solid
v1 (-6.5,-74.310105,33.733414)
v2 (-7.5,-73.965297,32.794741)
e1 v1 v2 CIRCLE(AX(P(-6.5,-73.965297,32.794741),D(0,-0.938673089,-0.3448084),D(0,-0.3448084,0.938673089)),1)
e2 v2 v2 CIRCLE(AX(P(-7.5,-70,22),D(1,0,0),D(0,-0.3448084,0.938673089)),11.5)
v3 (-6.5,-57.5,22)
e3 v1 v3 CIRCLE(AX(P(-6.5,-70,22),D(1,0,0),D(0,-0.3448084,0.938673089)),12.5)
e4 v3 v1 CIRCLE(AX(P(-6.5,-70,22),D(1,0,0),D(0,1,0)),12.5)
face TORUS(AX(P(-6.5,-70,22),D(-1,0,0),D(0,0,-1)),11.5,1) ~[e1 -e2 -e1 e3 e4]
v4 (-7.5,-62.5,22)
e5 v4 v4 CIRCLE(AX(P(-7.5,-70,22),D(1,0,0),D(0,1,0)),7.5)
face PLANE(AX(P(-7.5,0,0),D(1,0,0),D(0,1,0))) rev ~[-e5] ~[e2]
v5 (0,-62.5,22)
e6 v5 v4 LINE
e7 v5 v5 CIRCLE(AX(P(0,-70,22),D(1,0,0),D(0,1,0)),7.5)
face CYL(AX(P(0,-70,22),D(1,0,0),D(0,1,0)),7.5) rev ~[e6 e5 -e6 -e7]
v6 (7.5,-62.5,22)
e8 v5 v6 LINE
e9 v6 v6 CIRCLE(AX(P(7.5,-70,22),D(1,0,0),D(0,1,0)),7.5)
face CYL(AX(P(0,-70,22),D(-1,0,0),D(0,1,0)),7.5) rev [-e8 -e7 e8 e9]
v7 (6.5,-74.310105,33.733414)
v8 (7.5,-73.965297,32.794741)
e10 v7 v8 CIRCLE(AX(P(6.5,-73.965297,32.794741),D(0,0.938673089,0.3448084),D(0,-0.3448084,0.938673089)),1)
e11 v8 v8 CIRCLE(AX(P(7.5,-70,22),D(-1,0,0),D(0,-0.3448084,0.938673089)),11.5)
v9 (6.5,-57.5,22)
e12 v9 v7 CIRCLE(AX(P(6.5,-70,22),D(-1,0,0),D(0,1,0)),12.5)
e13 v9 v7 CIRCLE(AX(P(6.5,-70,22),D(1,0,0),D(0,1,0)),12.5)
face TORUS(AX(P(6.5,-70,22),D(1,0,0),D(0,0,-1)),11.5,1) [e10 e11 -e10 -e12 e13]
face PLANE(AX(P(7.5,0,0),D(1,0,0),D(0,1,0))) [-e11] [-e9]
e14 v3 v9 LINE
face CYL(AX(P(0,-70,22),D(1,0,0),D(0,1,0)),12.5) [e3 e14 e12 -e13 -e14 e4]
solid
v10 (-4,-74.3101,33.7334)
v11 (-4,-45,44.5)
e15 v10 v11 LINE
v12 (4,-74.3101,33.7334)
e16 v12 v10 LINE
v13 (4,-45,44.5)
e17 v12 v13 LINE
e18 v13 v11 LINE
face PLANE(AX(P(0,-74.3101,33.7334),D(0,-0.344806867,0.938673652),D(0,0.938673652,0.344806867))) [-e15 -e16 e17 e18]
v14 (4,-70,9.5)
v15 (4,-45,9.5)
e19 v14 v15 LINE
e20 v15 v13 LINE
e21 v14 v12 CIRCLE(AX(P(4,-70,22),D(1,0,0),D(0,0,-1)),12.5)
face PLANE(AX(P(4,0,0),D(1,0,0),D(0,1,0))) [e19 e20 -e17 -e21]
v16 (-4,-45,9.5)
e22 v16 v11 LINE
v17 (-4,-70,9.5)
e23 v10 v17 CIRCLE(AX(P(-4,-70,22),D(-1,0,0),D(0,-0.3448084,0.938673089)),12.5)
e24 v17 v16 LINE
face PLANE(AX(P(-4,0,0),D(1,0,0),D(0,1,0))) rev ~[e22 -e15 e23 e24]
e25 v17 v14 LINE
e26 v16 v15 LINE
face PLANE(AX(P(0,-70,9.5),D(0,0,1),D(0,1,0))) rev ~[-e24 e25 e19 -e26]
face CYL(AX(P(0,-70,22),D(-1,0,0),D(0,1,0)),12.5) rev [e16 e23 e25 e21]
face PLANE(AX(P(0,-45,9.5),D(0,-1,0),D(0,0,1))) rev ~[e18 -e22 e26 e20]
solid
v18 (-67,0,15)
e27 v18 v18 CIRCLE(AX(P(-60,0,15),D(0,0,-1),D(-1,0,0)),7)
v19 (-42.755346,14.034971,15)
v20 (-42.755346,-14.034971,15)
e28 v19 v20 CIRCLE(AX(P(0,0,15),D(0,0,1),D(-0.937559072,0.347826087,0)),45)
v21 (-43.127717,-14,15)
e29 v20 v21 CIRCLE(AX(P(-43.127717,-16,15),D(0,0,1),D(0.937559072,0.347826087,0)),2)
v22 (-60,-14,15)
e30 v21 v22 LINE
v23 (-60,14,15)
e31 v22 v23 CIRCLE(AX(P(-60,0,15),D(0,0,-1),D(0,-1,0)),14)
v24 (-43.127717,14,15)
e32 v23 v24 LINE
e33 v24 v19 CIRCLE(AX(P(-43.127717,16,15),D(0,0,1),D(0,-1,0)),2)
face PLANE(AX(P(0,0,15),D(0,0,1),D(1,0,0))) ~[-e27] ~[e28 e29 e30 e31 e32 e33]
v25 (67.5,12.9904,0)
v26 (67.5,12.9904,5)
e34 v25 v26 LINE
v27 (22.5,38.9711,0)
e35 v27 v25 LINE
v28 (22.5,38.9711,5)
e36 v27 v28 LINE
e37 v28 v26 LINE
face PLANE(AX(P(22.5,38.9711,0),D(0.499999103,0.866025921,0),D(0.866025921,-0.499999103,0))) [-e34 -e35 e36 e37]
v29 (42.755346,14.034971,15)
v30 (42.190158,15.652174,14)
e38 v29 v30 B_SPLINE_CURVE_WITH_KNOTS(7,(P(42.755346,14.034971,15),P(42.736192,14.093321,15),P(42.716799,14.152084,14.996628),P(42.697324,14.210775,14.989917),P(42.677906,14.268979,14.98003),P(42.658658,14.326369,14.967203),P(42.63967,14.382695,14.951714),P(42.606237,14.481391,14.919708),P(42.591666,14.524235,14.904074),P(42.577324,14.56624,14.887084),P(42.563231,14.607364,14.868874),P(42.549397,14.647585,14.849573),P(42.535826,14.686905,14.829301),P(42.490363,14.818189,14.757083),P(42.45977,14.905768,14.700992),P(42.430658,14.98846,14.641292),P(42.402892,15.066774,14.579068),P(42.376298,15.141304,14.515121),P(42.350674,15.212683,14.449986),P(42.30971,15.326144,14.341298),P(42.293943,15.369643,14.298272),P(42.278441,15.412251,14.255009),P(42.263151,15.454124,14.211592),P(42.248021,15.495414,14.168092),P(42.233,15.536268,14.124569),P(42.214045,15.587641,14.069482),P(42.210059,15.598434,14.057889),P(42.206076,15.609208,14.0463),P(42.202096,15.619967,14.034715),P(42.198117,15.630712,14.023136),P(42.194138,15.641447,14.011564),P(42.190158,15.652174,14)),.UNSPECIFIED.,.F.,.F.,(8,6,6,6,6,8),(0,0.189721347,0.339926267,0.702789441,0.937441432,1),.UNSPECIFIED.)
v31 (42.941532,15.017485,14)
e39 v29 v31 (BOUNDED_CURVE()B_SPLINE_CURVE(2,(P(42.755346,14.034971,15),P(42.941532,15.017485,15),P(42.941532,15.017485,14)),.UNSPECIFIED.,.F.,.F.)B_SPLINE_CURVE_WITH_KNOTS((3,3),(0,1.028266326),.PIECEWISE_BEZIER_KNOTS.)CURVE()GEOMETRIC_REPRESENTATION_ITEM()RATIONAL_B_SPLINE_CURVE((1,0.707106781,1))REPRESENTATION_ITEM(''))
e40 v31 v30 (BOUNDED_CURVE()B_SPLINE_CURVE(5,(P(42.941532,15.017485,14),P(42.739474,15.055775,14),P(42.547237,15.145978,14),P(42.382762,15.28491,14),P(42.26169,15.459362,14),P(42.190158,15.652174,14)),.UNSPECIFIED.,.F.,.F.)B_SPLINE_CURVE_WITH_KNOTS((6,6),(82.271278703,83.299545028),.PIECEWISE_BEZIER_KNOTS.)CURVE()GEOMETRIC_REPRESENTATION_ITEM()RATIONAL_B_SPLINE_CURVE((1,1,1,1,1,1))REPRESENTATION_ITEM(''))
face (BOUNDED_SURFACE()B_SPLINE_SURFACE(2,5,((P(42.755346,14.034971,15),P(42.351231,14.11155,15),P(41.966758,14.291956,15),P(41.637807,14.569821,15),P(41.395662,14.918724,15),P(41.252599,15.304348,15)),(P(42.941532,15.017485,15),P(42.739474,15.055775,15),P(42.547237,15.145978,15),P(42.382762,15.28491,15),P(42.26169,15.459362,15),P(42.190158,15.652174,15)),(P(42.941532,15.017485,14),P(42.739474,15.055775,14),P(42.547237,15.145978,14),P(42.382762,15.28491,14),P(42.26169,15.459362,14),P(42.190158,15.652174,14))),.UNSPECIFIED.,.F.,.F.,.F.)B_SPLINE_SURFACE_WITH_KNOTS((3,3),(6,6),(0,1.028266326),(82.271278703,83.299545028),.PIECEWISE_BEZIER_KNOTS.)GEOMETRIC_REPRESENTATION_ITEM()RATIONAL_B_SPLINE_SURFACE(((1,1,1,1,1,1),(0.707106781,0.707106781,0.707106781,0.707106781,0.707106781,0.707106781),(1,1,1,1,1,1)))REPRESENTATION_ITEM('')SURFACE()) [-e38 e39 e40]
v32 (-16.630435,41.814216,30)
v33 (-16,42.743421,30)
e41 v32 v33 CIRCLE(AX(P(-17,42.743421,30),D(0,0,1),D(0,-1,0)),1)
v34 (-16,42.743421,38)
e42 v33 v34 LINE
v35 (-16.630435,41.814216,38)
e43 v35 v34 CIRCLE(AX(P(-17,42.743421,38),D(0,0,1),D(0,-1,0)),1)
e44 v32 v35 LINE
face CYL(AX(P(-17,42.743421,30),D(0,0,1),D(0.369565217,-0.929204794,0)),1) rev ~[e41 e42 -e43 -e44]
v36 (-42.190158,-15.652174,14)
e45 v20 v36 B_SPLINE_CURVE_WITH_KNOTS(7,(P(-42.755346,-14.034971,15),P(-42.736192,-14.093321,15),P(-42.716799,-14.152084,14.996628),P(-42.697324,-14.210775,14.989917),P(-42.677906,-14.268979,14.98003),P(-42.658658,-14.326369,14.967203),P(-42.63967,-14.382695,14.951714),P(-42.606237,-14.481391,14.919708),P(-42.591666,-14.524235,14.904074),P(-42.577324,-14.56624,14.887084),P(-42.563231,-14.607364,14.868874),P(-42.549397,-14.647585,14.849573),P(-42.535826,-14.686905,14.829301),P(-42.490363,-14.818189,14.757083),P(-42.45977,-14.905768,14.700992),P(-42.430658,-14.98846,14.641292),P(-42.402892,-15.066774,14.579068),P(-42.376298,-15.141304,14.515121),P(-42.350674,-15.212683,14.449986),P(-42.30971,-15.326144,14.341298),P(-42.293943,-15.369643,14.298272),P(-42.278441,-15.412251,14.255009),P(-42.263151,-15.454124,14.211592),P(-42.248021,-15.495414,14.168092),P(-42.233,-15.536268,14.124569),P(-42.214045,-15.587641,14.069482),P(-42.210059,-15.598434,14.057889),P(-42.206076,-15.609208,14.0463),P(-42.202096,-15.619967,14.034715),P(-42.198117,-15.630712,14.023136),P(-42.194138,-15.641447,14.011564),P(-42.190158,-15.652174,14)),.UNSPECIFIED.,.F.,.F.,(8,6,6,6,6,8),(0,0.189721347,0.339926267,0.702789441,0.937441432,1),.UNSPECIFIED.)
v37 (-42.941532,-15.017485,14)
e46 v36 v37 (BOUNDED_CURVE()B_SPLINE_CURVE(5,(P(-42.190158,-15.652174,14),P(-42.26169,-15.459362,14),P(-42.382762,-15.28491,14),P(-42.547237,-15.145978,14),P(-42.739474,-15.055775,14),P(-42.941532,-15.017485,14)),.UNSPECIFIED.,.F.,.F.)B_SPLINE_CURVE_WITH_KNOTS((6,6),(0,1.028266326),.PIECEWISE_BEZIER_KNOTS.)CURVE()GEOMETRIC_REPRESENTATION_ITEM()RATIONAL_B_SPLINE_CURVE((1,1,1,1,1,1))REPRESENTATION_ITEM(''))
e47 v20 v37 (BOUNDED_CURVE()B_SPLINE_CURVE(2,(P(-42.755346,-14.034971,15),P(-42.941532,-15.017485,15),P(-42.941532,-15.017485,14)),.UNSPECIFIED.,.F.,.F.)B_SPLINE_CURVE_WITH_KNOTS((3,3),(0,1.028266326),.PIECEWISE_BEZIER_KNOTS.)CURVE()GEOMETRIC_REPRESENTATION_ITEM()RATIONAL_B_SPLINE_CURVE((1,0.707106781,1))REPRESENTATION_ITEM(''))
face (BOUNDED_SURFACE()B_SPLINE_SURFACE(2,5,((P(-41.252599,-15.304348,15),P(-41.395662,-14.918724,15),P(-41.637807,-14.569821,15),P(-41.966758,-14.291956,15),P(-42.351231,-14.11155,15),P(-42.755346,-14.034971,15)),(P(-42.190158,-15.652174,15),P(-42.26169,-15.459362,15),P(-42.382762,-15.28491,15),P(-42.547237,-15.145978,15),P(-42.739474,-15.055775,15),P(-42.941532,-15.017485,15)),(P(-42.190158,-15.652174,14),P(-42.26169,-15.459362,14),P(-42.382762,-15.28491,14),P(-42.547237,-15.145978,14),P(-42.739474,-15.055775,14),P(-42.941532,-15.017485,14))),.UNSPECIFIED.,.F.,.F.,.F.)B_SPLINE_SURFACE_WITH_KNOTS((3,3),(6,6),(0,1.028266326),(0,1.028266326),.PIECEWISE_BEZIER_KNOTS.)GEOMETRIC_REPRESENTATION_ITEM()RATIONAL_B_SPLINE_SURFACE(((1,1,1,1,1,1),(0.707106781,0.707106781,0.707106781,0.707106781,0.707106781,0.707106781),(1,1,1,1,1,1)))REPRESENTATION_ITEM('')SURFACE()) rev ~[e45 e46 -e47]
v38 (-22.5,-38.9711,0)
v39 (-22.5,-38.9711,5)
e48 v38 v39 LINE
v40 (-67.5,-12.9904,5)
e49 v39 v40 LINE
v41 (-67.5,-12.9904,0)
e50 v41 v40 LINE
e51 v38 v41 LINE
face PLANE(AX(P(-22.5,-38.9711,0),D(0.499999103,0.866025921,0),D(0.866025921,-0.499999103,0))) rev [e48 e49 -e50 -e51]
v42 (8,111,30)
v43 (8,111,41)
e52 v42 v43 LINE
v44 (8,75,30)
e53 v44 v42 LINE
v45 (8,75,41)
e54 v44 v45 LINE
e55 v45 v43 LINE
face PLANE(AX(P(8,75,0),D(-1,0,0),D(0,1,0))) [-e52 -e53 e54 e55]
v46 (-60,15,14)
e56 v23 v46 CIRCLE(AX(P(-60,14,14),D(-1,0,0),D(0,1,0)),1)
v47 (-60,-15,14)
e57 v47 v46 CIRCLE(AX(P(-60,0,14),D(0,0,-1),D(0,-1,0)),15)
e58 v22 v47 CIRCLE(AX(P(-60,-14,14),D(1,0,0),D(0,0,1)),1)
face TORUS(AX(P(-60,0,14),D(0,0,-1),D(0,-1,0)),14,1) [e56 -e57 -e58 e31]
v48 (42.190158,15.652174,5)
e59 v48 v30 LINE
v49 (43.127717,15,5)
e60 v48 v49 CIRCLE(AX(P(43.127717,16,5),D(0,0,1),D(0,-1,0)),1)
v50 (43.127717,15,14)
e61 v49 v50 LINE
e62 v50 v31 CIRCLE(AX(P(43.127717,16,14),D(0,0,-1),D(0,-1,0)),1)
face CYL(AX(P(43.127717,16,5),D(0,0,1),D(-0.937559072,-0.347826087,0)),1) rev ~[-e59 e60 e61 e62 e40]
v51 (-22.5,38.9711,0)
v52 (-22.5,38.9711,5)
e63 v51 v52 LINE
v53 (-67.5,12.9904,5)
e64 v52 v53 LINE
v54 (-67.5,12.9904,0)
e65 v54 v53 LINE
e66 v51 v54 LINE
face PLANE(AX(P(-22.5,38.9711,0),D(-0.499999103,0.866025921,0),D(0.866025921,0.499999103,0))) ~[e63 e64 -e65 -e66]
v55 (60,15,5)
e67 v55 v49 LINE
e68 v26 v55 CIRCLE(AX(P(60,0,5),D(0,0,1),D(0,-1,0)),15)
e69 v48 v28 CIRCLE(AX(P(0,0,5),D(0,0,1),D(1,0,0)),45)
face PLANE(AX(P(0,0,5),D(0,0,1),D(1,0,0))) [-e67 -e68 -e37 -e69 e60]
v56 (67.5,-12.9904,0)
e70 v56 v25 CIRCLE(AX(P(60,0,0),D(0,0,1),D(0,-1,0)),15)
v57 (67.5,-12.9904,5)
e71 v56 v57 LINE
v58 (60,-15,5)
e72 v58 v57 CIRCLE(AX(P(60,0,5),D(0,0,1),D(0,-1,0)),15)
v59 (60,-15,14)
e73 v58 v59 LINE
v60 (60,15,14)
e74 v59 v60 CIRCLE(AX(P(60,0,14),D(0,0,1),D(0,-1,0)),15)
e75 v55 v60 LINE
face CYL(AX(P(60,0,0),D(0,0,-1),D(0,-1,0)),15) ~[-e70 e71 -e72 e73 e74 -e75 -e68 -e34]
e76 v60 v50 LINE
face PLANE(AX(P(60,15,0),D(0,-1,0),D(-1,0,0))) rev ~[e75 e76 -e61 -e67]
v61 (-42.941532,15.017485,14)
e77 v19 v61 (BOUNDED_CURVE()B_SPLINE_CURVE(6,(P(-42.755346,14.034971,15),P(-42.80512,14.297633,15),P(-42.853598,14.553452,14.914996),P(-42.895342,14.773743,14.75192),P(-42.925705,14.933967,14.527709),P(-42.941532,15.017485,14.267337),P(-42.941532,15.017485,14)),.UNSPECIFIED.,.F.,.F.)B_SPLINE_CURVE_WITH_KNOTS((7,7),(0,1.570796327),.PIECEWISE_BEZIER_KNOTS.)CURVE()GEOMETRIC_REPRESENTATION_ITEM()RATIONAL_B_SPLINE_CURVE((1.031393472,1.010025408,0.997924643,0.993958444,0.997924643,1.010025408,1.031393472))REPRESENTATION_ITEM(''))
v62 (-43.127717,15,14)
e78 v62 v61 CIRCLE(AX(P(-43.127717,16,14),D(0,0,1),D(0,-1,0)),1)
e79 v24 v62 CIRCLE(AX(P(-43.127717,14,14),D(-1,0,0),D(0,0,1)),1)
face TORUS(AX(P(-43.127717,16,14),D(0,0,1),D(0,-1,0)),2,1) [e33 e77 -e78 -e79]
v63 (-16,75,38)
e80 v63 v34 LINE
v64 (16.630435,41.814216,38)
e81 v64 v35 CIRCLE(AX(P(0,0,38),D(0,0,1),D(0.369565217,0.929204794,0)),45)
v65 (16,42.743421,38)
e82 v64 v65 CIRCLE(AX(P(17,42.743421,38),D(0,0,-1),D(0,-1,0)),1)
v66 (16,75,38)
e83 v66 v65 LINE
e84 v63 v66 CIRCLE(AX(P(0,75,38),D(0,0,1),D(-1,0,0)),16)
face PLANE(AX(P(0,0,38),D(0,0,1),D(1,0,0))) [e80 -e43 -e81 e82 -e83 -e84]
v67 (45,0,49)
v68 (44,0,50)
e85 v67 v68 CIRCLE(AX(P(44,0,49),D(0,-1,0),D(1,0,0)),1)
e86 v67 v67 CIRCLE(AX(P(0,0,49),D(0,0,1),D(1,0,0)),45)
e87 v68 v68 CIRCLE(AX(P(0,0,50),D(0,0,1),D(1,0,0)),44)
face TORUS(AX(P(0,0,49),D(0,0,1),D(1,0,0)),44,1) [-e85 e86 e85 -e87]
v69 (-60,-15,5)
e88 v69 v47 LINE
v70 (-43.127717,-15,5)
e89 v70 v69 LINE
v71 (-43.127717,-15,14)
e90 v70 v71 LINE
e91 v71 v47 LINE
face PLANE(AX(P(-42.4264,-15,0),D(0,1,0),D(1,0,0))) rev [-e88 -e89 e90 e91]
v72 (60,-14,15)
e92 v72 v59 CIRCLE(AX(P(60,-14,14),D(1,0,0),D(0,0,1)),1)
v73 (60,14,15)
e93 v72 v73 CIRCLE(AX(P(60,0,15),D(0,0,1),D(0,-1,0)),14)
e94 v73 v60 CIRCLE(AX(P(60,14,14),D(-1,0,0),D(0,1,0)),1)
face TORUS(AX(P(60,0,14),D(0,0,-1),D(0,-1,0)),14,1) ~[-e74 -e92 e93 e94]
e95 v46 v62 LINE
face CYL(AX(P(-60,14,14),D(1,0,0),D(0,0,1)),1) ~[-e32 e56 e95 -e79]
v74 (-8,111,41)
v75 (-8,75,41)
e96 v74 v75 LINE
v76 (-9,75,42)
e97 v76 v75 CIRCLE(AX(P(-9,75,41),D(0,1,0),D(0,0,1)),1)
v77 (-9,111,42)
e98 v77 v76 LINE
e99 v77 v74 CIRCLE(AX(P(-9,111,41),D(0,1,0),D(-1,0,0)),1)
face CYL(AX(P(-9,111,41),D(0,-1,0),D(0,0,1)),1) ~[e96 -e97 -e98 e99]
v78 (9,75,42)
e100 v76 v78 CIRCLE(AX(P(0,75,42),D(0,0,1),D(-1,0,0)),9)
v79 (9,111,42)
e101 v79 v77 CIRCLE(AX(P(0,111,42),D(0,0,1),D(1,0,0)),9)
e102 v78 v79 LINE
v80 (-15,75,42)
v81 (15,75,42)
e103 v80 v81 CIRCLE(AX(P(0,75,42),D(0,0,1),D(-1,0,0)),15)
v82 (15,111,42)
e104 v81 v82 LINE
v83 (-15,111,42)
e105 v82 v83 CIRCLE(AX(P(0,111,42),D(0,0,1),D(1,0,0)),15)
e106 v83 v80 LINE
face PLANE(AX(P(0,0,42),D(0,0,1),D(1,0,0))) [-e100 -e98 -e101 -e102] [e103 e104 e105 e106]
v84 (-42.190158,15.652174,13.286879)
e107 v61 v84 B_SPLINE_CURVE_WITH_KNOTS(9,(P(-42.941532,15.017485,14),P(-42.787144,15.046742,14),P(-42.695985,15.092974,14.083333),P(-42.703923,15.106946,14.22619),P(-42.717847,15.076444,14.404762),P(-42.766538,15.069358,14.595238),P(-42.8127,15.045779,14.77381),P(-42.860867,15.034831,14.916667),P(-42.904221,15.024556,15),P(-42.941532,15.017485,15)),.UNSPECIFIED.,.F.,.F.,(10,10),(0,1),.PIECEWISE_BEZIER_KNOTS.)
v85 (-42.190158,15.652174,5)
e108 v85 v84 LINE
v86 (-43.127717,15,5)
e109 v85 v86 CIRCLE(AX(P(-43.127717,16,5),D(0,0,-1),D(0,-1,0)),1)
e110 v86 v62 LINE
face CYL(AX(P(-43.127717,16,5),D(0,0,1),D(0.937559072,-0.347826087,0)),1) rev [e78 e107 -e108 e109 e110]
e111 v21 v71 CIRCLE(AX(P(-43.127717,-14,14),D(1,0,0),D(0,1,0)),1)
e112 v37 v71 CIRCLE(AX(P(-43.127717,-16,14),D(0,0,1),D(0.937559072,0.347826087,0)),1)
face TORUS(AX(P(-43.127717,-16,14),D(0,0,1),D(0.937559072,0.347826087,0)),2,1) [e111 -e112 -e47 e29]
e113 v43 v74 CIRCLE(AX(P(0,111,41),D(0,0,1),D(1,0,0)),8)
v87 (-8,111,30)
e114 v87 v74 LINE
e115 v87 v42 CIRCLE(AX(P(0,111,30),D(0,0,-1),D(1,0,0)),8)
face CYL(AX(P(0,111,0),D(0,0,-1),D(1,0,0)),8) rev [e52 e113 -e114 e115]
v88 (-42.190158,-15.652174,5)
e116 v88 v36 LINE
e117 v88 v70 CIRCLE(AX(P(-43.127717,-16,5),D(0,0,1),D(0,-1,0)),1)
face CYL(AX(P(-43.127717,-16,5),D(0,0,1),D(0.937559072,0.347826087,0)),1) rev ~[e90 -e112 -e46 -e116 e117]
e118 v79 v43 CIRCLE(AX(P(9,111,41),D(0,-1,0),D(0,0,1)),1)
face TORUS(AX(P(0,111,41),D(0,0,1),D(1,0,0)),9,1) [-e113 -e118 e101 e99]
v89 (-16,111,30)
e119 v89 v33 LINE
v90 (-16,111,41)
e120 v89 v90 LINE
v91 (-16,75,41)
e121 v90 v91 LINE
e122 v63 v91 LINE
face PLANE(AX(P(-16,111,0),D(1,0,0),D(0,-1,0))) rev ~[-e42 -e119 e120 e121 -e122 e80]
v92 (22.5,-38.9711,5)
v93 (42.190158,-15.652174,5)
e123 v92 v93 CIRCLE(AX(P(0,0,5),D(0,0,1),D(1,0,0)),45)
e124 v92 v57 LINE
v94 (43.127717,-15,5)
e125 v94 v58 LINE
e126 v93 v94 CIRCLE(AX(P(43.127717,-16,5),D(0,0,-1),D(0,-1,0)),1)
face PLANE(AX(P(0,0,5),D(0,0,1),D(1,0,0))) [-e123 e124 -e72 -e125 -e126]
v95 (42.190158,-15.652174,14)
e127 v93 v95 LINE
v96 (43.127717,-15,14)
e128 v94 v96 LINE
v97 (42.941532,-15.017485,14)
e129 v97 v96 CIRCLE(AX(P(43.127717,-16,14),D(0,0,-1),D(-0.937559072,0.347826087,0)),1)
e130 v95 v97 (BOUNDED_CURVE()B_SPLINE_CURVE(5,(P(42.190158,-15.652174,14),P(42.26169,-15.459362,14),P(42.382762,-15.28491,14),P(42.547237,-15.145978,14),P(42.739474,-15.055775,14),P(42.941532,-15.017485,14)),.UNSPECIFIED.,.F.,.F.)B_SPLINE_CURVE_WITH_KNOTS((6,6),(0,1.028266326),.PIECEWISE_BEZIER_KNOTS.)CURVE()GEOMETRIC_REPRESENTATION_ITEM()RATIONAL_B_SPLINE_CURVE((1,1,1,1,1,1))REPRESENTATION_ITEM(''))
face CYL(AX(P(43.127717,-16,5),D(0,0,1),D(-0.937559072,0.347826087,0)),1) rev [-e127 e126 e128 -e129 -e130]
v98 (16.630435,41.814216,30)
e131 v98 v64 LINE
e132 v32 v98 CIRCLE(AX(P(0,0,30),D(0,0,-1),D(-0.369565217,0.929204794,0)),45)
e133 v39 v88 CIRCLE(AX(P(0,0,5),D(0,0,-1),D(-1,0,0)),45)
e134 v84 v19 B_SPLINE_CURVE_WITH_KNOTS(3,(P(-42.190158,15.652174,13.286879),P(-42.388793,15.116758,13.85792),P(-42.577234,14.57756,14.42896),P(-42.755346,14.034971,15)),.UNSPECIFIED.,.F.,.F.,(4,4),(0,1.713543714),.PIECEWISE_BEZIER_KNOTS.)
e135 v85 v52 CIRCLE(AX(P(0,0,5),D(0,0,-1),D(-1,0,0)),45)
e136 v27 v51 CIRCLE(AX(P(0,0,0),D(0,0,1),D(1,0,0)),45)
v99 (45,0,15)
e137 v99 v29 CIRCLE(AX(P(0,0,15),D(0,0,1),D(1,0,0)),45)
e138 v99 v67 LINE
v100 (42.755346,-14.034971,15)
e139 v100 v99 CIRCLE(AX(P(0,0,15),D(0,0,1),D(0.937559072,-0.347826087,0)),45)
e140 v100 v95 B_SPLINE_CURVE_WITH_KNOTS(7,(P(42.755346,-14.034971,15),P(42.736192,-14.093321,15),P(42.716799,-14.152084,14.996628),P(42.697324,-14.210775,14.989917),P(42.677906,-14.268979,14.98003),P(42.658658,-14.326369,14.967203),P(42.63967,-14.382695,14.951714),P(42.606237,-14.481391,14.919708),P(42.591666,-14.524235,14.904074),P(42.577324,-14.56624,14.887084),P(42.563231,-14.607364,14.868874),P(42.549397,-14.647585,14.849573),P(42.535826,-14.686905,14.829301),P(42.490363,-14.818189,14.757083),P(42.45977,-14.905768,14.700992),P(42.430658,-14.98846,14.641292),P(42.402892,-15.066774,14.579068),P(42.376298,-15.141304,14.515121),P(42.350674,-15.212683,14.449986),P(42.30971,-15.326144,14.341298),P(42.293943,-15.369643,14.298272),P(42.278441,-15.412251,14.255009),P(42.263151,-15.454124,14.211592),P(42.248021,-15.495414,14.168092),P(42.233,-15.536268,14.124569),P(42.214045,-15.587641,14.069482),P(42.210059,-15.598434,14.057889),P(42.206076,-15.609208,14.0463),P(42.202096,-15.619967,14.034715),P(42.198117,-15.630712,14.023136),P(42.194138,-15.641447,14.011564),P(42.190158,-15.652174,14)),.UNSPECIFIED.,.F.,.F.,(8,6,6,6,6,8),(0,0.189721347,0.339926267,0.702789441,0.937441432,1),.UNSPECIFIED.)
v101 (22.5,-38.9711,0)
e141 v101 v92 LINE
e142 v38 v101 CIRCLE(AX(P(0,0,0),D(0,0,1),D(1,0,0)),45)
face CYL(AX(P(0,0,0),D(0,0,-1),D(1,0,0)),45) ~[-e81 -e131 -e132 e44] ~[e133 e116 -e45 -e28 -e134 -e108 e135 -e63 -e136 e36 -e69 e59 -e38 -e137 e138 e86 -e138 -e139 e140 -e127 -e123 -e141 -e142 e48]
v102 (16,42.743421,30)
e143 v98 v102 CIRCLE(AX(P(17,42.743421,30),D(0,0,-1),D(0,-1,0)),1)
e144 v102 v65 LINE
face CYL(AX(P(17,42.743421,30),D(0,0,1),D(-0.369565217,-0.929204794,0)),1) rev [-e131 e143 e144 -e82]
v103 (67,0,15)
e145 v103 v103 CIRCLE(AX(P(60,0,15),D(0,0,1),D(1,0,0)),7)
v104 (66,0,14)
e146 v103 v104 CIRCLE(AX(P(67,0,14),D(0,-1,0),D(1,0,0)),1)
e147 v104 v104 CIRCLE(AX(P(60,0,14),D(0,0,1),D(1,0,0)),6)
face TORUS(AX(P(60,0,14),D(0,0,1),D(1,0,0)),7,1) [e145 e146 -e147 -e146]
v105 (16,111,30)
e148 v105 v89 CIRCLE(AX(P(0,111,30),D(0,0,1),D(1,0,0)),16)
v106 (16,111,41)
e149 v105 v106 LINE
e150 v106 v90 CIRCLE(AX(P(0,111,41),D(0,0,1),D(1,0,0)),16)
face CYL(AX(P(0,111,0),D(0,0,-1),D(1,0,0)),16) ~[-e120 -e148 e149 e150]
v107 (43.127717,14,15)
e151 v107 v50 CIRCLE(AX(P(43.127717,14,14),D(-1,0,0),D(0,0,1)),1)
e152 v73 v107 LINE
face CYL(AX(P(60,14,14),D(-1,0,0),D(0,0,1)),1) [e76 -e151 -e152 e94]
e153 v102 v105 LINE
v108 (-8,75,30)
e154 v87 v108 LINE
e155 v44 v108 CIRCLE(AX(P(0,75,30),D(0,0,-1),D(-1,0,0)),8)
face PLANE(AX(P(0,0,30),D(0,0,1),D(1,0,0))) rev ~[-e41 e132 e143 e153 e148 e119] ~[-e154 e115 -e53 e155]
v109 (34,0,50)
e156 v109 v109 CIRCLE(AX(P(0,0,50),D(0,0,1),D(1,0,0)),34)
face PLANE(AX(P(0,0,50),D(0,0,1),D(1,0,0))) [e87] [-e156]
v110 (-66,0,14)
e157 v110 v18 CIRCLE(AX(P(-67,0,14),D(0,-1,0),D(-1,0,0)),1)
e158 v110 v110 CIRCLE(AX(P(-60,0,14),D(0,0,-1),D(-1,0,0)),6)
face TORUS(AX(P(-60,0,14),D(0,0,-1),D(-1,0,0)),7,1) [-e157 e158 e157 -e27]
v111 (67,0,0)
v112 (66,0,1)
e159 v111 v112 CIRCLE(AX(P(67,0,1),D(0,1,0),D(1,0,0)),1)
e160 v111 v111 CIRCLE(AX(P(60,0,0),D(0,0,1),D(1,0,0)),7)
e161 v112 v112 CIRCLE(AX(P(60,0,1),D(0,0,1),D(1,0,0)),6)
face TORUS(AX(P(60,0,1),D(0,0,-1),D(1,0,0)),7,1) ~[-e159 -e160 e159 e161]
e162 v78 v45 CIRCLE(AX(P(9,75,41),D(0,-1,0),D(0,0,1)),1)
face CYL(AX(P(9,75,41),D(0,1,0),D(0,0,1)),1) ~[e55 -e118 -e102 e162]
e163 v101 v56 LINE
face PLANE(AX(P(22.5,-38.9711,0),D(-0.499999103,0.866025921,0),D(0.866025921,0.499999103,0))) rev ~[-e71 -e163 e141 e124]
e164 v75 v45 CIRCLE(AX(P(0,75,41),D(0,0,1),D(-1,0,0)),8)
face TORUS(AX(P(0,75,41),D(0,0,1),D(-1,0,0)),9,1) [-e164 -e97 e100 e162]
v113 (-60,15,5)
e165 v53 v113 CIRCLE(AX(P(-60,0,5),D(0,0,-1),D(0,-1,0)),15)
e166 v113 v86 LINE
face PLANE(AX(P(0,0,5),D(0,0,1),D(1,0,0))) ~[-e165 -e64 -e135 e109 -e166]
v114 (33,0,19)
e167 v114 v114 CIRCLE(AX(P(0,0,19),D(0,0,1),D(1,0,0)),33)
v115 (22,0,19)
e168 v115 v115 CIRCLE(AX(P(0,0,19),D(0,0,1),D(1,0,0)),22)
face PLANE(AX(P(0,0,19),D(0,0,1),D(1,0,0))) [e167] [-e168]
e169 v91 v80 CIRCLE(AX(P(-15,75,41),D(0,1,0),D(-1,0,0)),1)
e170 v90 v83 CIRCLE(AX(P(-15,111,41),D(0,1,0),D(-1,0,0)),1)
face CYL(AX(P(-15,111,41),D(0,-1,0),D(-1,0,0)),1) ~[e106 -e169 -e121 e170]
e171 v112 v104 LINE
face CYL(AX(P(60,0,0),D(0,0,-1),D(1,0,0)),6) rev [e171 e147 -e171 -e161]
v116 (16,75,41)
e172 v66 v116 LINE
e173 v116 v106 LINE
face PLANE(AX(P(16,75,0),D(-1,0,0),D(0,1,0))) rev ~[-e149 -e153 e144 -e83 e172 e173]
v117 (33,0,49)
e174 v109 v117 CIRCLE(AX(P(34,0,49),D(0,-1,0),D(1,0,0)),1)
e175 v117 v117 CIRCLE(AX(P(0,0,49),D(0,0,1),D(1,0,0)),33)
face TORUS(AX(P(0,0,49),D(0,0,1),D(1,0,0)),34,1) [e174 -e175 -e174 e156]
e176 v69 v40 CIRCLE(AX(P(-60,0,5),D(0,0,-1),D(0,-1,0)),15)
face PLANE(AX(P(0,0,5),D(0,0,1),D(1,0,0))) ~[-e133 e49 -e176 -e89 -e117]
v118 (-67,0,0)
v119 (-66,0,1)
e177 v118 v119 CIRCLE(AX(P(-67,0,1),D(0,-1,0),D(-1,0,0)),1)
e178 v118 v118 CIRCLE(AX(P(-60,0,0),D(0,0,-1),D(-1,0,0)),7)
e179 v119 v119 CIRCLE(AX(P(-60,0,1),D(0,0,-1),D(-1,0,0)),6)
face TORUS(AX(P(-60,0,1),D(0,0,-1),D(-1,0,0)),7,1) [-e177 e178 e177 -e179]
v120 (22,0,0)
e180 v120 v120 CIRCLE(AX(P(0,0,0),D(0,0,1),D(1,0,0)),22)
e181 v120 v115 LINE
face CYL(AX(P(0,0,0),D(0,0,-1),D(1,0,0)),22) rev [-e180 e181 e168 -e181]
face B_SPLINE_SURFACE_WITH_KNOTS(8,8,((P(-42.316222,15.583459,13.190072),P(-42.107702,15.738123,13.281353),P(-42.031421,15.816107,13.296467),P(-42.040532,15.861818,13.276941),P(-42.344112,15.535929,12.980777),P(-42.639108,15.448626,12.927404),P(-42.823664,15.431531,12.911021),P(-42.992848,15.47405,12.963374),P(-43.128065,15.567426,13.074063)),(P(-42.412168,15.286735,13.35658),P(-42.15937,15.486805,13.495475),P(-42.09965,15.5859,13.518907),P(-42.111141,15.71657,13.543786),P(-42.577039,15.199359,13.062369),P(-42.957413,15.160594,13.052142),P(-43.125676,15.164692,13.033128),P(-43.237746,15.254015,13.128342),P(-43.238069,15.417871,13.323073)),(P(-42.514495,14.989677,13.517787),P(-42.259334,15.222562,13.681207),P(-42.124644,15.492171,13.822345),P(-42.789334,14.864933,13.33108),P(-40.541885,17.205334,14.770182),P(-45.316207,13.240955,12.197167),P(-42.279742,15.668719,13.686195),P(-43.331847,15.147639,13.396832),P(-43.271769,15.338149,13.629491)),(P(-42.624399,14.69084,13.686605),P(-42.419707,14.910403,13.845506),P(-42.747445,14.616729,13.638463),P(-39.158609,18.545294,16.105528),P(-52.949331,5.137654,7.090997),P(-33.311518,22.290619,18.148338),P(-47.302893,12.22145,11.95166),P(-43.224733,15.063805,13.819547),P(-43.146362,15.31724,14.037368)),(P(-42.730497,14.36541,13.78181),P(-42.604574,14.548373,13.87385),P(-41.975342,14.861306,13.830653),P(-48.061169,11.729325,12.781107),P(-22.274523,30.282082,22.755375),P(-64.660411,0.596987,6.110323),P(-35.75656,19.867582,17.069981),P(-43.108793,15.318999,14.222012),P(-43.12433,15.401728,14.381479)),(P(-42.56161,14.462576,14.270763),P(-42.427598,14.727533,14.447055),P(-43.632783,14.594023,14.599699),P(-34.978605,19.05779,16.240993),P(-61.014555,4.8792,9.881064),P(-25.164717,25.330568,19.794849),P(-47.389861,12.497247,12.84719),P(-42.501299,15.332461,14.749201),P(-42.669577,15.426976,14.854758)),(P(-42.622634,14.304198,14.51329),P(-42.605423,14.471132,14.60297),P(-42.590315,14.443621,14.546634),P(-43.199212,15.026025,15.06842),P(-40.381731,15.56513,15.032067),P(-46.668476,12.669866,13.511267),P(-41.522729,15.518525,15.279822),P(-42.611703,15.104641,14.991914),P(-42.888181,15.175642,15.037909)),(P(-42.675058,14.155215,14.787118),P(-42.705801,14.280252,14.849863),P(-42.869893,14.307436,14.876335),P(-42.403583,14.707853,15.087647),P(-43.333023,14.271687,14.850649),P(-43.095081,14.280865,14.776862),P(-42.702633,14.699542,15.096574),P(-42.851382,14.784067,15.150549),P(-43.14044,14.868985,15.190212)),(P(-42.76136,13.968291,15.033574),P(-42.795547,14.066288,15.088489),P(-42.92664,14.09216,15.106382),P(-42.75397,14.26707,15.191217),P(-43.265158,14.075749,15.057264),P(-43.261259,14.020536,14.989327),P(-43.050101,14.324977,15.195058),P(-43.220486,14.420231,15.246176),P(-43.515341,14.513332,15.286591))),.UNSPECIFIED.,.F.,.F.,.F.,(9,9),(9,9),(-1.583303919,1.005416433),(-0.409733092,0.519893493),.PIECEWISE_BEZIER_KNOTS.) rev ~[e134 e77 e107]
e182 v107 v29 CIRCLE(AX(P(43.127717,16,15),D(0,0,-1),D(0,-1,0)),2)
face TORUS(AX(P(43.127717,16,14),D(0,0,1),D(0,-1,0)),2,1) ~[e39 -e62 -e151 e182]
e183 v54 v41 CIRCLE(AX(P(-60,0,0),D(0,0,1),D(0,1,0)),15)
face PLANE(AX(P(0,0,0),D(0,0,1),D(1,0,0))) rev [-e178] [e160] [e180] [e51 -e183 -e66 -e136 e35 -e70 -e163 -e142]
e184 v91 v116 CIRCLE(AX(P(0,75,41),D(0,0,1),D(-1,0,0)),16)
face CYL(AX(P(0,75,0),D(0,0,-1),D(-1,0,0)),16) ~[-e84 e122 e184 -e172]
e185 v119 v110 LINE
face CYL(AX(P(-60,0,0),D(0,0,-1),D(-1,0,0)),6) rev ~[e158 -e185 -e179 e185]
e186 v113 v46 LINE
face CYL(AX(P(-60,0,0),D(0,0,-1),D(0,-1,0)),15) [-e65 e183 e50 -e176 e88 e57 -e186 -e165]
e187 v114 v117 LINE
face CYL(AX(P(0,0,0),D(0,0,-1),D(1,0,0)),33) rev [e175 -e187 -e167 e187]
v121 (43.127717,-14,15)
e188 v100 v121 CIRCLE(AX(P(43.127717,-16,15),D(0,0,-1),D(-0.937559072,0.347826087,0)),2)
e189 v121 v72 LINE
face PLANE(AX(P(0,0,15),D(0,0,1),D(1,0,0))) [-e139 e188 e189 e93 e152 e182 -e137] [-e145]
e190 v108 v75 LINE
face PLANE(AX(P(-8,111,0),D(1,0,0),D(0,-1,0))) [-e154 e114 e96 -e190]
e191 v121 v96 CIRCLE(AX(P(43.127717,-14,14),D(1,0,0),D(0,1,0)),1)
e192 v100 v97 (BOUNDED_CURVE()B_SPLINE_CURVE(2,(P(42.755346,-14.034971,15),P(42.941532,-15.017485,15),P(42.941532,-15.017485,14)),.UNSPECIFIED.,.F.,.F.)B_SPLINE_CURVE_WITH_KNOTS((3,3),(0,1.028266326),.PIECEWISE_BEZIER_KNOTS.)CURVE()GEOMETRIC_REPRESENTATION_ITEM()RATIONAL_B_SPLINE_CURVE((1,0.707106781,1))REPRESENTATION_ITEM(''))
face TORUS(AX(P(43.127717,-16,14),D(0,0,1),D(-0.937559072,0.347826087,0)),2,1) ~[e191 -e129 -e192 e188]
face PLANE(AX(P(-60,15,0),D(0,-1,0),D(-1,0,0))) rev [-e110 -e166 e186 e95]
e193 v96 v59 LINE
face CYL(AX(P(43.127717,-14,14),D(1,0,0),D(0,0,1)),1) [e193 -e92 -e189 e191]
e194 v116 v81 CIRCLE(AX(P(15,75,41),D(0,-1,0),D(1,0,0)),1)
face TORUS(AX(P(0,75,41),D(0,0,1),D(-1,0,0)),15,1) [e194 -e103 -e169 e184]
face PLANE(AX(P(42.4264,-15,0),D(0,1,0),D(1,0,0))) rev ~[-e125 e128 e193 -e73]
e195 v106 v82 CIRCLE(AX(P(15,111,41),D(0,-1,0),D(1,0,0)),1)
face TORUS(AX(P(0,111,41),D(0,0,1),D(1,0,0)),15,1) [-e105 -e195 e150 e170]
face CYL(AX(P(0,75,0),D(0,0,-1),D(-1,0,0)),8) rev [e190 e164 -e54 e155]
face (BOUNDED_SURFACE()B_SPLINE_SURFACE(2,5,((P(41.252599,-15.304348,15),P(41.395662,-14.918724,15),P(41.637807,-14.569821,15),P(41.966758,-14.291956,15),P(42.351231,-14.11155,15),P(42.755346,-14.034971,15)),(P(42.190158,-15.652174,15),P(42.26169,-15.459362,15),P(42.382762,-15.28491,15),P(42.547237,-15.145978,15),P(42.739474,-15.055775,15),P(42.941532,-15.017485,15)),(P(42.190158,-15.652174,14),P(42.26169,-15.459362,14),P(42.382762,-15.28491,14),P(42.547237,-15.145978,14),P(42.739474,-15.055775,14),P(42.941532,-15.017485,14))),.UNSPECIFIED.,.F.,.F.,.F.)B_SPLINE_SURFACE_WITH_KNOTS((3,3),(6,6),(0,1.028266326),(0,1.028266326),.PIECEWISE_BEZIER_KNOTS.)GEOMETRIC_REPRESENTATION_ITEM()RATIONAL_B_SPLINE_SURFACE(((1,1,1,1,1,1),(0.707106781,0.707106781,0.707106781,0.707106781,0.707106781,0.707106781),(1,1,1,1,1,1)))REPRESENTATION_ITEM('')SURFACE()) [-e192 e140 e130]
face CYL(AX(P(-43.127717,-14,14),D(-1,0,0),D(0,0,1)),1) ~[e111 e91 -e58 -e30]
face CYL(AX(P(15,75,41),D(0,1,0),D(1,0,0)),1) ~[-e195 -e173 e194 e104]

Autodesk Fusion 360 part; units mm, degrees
sketch "스케치1" plane through (0, 0, 0) normal (0, 0, 1) x (1, 0, 0)
  circle A0 centre (0, 0) radius 45
  circle A1 centre (0, 0) radius 33
  circle A2 centre (0, 0) radius 22
  dimension "d3" = 90
  dimension "d9" = 66
  dimension "d10" = 44
sketch "스케치2" plane through (0, 0, 0) normal (0, 0, 1) x (1, 0, 0)
  line L0 (-8, 111) -> (-8, 75)
  arc A0 (-8, 75) -> (8, 75) centre (0, 75) ccw
  line L1 (8, 75) -> (8, 111)
  arc A1 (8, 111) -> (-8, 111) centre (0, 111) ccw
  line L2 (0, 111) -> (0, 75) construction
  line L3 (-16, 111) -> (-16, 75)
  arc A2 (-16, 75) -> (16, 75) centre (0, 75) ccw
  line L4 (16, 75) -> (16, 111)
  arc A3 (16, 111) -> (-16, 111) centre (0, 111) ccw
  line L5 (0, 111) -> (0, 75) construction
  line L6 (-16, 75) -> (-16, 42.0595)
  line L7 (16, 75) -> (16, 42.0595)
  circle A4 centre (0, 0) radius 45
  line L8 (0, 0) -> (0, 127) construction
  dimension "d15" = 16
  dimension "d16" = 32
  dimension "d17" = 36
  dimension "d18" = 75
extrude "돌출3" add sketch "스케치1" along normal blind 50 contours A0 makes body 1
extrude "돌출4" add sketch "스케치1" along normal blind 19 contours A1 bodies 1
extrude "돌출5" add sketch "스케치2" along normal blind 42 separate body contours L3 A2 L4 A3 makes body 2
extrude "돌출6" add sketch "스케치2" along normal blind 38 contours A2 L6 L7 A4 bodies 1 2
sketch "스케치3" plane through (0, 0, 0) normal (0, 0, 1) x (1, 0, 0)
  line L0 (-26, 36.7287) -> (-26, 127)
  line L1 (-26, 127) -> (26, 127)
  line L2 (26, 127) -> (26, 36.7287)
  circle A0 centre (0, 0) radius 45
  arc A1 (16, 111) -> (-16, 111) centre (0, 111) ccw
  line L3 (-16, 75) -> (-16, 42.0595)
  line L4 (16, 75) -> (16, 111)
  dimension "d26" = 10
  dimension "d27" = 10
extrude "돌출7" cut sketch "스케치3" along normal blind 30 contours L0 L1 L2 A0 bodies 1
sketch "스케치4" plane through (0, 0, 0) normal (0, 0, 1) x (1, 0, 0)
  line L0 (0, 0) -> (75, 0) construction
  circle A0 centre (60, 0) radius 6
  line L1 (42.4264, -15) -> (60, -15)
  line L2 (60, 15) -> (42.4264, 15)
  line L3 (60, -15) -> (60, 15) construction
  circle A1 centre (0, 0) radius 45
  arc A2 (60, -15) -> (60, 15) centre (60, 0) ccw
  line L4 (22.5, 38.9711) -> (67.5, 12.9904)
  line L5 (22.5, -38.9711) -> (67.5, -12.9904)
  dimension "d28" = 30
  dimension "d29" = 12
  dimension "d30" = 60
extrude "돌출8" add sketch "스케치4" along normal blind 5 contours L2 A1 A2 L4 bodies 1
extrude "돌출9" add sketch "스케치4" along normal blind 5 contours L1 A1 A2 L5 bodies 1
extrude "돌출10" add sketch "스케치4" along normal blind 15 contours L1 L2 A1 A2 bodies 1
mirror "미러1" about plane through (0, 0, 0) normal (1, 0, 0) of "돌출9"
mirror "미러2" about plane through (0, 0, 0) normal (1, 0, 0) of "돌출10"
mirror "미러3" about plane through (0, 0, 0) normal (1, 0, 0) of "돌출8"
sketch "스케치5" plane through (0, 0, 0) normal (1, 0, 0) x (0, 1, 0)
  circle A0 centre (-70, 22) radius 12.5
  circle A1 centre (-70, 22) radius 7.5
  line L0 (-70, 9.5) -> (-45, 9.5)
  line L1 (-74.3101, 33.7334) -> (-45, 44.5)
  line L2 (0, 0) -> (-45, 0) construction
  line L3 (-45, 0) -> (-45, 9.5) construction
  line L4 (-45, 44.5) -> (-45, 50) construction
  line L5 (-45, 9.5) -> (-45, 44.5)
  dimension "d43" = 25
  dimension "d44" = 15
  dimension "d46" = 45
  dimension "d47" = 50
  dimension "d48" = 22
  dimension "d49" = 35
  dimension "d50" = 70
extrude "돌출11" add sketch "스케치5" along normal mid plane 15 separate body contours A0 makes body 3
extrude "돌출12" add sketch "스케치5" along normal mid plane 8 separate body contours A0 L0 L1 L5 makes body 4
fillet "필렛1" radius 1 1 edges at (-42.4264, -15, 10) on bodies 1
fillet "필렛2" radius 1 1 edges at (-42.4264, 15, 10) on bodies 1
fillet "필렛3" radius 1 1 edges at (42.4264, 15, 10) on bodies 1
fillet "필렛4" radius 1 1 edges at (42.4264, -15, 10) on bodies 1
fillet "필렛5" radius 1 1 edges at (16, 42.0595, 34) on bodies 1
fillet "필렛6" radius 1 1 edges at (-16, 42.0595, 34) on bodies 1
fillet "필렛7" radius 1 1 edges at (-41.9547, -16.2727, 50) on bodies 1
fillet "필렛8" radius 1 1 edges at (-30.7668, 11.9333, 50) on bodies 1
fillet "필렛9" radius 1 4 edges at (16, 93, 42) (0, 127, 42) (-16, 93, 42) (0, 59, 42) on bodies 1
fillet "필렛10" radius 1 4 edges at (8, 93, 42) (0, 67, 42) (-8, 93, 42) (0, 119, 42) on bodies 1
fillet "필렛11" radius 1 5 edges at (42.5567, -15.1791, 15) (51.5639, -15, 15) (75, 0, 15) (51.5639, 15, 15) (42.5567, 15.1791, 15) on bodies 1
fillet "필렛12" radius 1 5 edges at (-42.5567, -15.1791, 15) (-51.5639, -15, 15) (-75, 0, 15) (-51.5639, 15, 15) (-42.5567, 15.1791, 15) on bodies 1
fillet "필렛13" radius 1 1 edges at (7.5, -81.6541, 17.4798) on bodies 3
fillet "필렛14" radius 1 1 edges at (-7.5, -81.6541, 26.5202) on bodies 3
fillet "필렛15" radius 1 1 edges at (-54.406, 2.1697, 0) on bodies 1
fillet "필렛16" radius 1 1 edges at (54.406, 2.1697, 0) on bodies 1
fillet "필렛17" radius 1 1 edges at (-54.406, 2.1697, 15) on bodies 1
fillet "필렛18" radius 1 1 edges at (54.406, 2.1697, 15) on bodies 1
